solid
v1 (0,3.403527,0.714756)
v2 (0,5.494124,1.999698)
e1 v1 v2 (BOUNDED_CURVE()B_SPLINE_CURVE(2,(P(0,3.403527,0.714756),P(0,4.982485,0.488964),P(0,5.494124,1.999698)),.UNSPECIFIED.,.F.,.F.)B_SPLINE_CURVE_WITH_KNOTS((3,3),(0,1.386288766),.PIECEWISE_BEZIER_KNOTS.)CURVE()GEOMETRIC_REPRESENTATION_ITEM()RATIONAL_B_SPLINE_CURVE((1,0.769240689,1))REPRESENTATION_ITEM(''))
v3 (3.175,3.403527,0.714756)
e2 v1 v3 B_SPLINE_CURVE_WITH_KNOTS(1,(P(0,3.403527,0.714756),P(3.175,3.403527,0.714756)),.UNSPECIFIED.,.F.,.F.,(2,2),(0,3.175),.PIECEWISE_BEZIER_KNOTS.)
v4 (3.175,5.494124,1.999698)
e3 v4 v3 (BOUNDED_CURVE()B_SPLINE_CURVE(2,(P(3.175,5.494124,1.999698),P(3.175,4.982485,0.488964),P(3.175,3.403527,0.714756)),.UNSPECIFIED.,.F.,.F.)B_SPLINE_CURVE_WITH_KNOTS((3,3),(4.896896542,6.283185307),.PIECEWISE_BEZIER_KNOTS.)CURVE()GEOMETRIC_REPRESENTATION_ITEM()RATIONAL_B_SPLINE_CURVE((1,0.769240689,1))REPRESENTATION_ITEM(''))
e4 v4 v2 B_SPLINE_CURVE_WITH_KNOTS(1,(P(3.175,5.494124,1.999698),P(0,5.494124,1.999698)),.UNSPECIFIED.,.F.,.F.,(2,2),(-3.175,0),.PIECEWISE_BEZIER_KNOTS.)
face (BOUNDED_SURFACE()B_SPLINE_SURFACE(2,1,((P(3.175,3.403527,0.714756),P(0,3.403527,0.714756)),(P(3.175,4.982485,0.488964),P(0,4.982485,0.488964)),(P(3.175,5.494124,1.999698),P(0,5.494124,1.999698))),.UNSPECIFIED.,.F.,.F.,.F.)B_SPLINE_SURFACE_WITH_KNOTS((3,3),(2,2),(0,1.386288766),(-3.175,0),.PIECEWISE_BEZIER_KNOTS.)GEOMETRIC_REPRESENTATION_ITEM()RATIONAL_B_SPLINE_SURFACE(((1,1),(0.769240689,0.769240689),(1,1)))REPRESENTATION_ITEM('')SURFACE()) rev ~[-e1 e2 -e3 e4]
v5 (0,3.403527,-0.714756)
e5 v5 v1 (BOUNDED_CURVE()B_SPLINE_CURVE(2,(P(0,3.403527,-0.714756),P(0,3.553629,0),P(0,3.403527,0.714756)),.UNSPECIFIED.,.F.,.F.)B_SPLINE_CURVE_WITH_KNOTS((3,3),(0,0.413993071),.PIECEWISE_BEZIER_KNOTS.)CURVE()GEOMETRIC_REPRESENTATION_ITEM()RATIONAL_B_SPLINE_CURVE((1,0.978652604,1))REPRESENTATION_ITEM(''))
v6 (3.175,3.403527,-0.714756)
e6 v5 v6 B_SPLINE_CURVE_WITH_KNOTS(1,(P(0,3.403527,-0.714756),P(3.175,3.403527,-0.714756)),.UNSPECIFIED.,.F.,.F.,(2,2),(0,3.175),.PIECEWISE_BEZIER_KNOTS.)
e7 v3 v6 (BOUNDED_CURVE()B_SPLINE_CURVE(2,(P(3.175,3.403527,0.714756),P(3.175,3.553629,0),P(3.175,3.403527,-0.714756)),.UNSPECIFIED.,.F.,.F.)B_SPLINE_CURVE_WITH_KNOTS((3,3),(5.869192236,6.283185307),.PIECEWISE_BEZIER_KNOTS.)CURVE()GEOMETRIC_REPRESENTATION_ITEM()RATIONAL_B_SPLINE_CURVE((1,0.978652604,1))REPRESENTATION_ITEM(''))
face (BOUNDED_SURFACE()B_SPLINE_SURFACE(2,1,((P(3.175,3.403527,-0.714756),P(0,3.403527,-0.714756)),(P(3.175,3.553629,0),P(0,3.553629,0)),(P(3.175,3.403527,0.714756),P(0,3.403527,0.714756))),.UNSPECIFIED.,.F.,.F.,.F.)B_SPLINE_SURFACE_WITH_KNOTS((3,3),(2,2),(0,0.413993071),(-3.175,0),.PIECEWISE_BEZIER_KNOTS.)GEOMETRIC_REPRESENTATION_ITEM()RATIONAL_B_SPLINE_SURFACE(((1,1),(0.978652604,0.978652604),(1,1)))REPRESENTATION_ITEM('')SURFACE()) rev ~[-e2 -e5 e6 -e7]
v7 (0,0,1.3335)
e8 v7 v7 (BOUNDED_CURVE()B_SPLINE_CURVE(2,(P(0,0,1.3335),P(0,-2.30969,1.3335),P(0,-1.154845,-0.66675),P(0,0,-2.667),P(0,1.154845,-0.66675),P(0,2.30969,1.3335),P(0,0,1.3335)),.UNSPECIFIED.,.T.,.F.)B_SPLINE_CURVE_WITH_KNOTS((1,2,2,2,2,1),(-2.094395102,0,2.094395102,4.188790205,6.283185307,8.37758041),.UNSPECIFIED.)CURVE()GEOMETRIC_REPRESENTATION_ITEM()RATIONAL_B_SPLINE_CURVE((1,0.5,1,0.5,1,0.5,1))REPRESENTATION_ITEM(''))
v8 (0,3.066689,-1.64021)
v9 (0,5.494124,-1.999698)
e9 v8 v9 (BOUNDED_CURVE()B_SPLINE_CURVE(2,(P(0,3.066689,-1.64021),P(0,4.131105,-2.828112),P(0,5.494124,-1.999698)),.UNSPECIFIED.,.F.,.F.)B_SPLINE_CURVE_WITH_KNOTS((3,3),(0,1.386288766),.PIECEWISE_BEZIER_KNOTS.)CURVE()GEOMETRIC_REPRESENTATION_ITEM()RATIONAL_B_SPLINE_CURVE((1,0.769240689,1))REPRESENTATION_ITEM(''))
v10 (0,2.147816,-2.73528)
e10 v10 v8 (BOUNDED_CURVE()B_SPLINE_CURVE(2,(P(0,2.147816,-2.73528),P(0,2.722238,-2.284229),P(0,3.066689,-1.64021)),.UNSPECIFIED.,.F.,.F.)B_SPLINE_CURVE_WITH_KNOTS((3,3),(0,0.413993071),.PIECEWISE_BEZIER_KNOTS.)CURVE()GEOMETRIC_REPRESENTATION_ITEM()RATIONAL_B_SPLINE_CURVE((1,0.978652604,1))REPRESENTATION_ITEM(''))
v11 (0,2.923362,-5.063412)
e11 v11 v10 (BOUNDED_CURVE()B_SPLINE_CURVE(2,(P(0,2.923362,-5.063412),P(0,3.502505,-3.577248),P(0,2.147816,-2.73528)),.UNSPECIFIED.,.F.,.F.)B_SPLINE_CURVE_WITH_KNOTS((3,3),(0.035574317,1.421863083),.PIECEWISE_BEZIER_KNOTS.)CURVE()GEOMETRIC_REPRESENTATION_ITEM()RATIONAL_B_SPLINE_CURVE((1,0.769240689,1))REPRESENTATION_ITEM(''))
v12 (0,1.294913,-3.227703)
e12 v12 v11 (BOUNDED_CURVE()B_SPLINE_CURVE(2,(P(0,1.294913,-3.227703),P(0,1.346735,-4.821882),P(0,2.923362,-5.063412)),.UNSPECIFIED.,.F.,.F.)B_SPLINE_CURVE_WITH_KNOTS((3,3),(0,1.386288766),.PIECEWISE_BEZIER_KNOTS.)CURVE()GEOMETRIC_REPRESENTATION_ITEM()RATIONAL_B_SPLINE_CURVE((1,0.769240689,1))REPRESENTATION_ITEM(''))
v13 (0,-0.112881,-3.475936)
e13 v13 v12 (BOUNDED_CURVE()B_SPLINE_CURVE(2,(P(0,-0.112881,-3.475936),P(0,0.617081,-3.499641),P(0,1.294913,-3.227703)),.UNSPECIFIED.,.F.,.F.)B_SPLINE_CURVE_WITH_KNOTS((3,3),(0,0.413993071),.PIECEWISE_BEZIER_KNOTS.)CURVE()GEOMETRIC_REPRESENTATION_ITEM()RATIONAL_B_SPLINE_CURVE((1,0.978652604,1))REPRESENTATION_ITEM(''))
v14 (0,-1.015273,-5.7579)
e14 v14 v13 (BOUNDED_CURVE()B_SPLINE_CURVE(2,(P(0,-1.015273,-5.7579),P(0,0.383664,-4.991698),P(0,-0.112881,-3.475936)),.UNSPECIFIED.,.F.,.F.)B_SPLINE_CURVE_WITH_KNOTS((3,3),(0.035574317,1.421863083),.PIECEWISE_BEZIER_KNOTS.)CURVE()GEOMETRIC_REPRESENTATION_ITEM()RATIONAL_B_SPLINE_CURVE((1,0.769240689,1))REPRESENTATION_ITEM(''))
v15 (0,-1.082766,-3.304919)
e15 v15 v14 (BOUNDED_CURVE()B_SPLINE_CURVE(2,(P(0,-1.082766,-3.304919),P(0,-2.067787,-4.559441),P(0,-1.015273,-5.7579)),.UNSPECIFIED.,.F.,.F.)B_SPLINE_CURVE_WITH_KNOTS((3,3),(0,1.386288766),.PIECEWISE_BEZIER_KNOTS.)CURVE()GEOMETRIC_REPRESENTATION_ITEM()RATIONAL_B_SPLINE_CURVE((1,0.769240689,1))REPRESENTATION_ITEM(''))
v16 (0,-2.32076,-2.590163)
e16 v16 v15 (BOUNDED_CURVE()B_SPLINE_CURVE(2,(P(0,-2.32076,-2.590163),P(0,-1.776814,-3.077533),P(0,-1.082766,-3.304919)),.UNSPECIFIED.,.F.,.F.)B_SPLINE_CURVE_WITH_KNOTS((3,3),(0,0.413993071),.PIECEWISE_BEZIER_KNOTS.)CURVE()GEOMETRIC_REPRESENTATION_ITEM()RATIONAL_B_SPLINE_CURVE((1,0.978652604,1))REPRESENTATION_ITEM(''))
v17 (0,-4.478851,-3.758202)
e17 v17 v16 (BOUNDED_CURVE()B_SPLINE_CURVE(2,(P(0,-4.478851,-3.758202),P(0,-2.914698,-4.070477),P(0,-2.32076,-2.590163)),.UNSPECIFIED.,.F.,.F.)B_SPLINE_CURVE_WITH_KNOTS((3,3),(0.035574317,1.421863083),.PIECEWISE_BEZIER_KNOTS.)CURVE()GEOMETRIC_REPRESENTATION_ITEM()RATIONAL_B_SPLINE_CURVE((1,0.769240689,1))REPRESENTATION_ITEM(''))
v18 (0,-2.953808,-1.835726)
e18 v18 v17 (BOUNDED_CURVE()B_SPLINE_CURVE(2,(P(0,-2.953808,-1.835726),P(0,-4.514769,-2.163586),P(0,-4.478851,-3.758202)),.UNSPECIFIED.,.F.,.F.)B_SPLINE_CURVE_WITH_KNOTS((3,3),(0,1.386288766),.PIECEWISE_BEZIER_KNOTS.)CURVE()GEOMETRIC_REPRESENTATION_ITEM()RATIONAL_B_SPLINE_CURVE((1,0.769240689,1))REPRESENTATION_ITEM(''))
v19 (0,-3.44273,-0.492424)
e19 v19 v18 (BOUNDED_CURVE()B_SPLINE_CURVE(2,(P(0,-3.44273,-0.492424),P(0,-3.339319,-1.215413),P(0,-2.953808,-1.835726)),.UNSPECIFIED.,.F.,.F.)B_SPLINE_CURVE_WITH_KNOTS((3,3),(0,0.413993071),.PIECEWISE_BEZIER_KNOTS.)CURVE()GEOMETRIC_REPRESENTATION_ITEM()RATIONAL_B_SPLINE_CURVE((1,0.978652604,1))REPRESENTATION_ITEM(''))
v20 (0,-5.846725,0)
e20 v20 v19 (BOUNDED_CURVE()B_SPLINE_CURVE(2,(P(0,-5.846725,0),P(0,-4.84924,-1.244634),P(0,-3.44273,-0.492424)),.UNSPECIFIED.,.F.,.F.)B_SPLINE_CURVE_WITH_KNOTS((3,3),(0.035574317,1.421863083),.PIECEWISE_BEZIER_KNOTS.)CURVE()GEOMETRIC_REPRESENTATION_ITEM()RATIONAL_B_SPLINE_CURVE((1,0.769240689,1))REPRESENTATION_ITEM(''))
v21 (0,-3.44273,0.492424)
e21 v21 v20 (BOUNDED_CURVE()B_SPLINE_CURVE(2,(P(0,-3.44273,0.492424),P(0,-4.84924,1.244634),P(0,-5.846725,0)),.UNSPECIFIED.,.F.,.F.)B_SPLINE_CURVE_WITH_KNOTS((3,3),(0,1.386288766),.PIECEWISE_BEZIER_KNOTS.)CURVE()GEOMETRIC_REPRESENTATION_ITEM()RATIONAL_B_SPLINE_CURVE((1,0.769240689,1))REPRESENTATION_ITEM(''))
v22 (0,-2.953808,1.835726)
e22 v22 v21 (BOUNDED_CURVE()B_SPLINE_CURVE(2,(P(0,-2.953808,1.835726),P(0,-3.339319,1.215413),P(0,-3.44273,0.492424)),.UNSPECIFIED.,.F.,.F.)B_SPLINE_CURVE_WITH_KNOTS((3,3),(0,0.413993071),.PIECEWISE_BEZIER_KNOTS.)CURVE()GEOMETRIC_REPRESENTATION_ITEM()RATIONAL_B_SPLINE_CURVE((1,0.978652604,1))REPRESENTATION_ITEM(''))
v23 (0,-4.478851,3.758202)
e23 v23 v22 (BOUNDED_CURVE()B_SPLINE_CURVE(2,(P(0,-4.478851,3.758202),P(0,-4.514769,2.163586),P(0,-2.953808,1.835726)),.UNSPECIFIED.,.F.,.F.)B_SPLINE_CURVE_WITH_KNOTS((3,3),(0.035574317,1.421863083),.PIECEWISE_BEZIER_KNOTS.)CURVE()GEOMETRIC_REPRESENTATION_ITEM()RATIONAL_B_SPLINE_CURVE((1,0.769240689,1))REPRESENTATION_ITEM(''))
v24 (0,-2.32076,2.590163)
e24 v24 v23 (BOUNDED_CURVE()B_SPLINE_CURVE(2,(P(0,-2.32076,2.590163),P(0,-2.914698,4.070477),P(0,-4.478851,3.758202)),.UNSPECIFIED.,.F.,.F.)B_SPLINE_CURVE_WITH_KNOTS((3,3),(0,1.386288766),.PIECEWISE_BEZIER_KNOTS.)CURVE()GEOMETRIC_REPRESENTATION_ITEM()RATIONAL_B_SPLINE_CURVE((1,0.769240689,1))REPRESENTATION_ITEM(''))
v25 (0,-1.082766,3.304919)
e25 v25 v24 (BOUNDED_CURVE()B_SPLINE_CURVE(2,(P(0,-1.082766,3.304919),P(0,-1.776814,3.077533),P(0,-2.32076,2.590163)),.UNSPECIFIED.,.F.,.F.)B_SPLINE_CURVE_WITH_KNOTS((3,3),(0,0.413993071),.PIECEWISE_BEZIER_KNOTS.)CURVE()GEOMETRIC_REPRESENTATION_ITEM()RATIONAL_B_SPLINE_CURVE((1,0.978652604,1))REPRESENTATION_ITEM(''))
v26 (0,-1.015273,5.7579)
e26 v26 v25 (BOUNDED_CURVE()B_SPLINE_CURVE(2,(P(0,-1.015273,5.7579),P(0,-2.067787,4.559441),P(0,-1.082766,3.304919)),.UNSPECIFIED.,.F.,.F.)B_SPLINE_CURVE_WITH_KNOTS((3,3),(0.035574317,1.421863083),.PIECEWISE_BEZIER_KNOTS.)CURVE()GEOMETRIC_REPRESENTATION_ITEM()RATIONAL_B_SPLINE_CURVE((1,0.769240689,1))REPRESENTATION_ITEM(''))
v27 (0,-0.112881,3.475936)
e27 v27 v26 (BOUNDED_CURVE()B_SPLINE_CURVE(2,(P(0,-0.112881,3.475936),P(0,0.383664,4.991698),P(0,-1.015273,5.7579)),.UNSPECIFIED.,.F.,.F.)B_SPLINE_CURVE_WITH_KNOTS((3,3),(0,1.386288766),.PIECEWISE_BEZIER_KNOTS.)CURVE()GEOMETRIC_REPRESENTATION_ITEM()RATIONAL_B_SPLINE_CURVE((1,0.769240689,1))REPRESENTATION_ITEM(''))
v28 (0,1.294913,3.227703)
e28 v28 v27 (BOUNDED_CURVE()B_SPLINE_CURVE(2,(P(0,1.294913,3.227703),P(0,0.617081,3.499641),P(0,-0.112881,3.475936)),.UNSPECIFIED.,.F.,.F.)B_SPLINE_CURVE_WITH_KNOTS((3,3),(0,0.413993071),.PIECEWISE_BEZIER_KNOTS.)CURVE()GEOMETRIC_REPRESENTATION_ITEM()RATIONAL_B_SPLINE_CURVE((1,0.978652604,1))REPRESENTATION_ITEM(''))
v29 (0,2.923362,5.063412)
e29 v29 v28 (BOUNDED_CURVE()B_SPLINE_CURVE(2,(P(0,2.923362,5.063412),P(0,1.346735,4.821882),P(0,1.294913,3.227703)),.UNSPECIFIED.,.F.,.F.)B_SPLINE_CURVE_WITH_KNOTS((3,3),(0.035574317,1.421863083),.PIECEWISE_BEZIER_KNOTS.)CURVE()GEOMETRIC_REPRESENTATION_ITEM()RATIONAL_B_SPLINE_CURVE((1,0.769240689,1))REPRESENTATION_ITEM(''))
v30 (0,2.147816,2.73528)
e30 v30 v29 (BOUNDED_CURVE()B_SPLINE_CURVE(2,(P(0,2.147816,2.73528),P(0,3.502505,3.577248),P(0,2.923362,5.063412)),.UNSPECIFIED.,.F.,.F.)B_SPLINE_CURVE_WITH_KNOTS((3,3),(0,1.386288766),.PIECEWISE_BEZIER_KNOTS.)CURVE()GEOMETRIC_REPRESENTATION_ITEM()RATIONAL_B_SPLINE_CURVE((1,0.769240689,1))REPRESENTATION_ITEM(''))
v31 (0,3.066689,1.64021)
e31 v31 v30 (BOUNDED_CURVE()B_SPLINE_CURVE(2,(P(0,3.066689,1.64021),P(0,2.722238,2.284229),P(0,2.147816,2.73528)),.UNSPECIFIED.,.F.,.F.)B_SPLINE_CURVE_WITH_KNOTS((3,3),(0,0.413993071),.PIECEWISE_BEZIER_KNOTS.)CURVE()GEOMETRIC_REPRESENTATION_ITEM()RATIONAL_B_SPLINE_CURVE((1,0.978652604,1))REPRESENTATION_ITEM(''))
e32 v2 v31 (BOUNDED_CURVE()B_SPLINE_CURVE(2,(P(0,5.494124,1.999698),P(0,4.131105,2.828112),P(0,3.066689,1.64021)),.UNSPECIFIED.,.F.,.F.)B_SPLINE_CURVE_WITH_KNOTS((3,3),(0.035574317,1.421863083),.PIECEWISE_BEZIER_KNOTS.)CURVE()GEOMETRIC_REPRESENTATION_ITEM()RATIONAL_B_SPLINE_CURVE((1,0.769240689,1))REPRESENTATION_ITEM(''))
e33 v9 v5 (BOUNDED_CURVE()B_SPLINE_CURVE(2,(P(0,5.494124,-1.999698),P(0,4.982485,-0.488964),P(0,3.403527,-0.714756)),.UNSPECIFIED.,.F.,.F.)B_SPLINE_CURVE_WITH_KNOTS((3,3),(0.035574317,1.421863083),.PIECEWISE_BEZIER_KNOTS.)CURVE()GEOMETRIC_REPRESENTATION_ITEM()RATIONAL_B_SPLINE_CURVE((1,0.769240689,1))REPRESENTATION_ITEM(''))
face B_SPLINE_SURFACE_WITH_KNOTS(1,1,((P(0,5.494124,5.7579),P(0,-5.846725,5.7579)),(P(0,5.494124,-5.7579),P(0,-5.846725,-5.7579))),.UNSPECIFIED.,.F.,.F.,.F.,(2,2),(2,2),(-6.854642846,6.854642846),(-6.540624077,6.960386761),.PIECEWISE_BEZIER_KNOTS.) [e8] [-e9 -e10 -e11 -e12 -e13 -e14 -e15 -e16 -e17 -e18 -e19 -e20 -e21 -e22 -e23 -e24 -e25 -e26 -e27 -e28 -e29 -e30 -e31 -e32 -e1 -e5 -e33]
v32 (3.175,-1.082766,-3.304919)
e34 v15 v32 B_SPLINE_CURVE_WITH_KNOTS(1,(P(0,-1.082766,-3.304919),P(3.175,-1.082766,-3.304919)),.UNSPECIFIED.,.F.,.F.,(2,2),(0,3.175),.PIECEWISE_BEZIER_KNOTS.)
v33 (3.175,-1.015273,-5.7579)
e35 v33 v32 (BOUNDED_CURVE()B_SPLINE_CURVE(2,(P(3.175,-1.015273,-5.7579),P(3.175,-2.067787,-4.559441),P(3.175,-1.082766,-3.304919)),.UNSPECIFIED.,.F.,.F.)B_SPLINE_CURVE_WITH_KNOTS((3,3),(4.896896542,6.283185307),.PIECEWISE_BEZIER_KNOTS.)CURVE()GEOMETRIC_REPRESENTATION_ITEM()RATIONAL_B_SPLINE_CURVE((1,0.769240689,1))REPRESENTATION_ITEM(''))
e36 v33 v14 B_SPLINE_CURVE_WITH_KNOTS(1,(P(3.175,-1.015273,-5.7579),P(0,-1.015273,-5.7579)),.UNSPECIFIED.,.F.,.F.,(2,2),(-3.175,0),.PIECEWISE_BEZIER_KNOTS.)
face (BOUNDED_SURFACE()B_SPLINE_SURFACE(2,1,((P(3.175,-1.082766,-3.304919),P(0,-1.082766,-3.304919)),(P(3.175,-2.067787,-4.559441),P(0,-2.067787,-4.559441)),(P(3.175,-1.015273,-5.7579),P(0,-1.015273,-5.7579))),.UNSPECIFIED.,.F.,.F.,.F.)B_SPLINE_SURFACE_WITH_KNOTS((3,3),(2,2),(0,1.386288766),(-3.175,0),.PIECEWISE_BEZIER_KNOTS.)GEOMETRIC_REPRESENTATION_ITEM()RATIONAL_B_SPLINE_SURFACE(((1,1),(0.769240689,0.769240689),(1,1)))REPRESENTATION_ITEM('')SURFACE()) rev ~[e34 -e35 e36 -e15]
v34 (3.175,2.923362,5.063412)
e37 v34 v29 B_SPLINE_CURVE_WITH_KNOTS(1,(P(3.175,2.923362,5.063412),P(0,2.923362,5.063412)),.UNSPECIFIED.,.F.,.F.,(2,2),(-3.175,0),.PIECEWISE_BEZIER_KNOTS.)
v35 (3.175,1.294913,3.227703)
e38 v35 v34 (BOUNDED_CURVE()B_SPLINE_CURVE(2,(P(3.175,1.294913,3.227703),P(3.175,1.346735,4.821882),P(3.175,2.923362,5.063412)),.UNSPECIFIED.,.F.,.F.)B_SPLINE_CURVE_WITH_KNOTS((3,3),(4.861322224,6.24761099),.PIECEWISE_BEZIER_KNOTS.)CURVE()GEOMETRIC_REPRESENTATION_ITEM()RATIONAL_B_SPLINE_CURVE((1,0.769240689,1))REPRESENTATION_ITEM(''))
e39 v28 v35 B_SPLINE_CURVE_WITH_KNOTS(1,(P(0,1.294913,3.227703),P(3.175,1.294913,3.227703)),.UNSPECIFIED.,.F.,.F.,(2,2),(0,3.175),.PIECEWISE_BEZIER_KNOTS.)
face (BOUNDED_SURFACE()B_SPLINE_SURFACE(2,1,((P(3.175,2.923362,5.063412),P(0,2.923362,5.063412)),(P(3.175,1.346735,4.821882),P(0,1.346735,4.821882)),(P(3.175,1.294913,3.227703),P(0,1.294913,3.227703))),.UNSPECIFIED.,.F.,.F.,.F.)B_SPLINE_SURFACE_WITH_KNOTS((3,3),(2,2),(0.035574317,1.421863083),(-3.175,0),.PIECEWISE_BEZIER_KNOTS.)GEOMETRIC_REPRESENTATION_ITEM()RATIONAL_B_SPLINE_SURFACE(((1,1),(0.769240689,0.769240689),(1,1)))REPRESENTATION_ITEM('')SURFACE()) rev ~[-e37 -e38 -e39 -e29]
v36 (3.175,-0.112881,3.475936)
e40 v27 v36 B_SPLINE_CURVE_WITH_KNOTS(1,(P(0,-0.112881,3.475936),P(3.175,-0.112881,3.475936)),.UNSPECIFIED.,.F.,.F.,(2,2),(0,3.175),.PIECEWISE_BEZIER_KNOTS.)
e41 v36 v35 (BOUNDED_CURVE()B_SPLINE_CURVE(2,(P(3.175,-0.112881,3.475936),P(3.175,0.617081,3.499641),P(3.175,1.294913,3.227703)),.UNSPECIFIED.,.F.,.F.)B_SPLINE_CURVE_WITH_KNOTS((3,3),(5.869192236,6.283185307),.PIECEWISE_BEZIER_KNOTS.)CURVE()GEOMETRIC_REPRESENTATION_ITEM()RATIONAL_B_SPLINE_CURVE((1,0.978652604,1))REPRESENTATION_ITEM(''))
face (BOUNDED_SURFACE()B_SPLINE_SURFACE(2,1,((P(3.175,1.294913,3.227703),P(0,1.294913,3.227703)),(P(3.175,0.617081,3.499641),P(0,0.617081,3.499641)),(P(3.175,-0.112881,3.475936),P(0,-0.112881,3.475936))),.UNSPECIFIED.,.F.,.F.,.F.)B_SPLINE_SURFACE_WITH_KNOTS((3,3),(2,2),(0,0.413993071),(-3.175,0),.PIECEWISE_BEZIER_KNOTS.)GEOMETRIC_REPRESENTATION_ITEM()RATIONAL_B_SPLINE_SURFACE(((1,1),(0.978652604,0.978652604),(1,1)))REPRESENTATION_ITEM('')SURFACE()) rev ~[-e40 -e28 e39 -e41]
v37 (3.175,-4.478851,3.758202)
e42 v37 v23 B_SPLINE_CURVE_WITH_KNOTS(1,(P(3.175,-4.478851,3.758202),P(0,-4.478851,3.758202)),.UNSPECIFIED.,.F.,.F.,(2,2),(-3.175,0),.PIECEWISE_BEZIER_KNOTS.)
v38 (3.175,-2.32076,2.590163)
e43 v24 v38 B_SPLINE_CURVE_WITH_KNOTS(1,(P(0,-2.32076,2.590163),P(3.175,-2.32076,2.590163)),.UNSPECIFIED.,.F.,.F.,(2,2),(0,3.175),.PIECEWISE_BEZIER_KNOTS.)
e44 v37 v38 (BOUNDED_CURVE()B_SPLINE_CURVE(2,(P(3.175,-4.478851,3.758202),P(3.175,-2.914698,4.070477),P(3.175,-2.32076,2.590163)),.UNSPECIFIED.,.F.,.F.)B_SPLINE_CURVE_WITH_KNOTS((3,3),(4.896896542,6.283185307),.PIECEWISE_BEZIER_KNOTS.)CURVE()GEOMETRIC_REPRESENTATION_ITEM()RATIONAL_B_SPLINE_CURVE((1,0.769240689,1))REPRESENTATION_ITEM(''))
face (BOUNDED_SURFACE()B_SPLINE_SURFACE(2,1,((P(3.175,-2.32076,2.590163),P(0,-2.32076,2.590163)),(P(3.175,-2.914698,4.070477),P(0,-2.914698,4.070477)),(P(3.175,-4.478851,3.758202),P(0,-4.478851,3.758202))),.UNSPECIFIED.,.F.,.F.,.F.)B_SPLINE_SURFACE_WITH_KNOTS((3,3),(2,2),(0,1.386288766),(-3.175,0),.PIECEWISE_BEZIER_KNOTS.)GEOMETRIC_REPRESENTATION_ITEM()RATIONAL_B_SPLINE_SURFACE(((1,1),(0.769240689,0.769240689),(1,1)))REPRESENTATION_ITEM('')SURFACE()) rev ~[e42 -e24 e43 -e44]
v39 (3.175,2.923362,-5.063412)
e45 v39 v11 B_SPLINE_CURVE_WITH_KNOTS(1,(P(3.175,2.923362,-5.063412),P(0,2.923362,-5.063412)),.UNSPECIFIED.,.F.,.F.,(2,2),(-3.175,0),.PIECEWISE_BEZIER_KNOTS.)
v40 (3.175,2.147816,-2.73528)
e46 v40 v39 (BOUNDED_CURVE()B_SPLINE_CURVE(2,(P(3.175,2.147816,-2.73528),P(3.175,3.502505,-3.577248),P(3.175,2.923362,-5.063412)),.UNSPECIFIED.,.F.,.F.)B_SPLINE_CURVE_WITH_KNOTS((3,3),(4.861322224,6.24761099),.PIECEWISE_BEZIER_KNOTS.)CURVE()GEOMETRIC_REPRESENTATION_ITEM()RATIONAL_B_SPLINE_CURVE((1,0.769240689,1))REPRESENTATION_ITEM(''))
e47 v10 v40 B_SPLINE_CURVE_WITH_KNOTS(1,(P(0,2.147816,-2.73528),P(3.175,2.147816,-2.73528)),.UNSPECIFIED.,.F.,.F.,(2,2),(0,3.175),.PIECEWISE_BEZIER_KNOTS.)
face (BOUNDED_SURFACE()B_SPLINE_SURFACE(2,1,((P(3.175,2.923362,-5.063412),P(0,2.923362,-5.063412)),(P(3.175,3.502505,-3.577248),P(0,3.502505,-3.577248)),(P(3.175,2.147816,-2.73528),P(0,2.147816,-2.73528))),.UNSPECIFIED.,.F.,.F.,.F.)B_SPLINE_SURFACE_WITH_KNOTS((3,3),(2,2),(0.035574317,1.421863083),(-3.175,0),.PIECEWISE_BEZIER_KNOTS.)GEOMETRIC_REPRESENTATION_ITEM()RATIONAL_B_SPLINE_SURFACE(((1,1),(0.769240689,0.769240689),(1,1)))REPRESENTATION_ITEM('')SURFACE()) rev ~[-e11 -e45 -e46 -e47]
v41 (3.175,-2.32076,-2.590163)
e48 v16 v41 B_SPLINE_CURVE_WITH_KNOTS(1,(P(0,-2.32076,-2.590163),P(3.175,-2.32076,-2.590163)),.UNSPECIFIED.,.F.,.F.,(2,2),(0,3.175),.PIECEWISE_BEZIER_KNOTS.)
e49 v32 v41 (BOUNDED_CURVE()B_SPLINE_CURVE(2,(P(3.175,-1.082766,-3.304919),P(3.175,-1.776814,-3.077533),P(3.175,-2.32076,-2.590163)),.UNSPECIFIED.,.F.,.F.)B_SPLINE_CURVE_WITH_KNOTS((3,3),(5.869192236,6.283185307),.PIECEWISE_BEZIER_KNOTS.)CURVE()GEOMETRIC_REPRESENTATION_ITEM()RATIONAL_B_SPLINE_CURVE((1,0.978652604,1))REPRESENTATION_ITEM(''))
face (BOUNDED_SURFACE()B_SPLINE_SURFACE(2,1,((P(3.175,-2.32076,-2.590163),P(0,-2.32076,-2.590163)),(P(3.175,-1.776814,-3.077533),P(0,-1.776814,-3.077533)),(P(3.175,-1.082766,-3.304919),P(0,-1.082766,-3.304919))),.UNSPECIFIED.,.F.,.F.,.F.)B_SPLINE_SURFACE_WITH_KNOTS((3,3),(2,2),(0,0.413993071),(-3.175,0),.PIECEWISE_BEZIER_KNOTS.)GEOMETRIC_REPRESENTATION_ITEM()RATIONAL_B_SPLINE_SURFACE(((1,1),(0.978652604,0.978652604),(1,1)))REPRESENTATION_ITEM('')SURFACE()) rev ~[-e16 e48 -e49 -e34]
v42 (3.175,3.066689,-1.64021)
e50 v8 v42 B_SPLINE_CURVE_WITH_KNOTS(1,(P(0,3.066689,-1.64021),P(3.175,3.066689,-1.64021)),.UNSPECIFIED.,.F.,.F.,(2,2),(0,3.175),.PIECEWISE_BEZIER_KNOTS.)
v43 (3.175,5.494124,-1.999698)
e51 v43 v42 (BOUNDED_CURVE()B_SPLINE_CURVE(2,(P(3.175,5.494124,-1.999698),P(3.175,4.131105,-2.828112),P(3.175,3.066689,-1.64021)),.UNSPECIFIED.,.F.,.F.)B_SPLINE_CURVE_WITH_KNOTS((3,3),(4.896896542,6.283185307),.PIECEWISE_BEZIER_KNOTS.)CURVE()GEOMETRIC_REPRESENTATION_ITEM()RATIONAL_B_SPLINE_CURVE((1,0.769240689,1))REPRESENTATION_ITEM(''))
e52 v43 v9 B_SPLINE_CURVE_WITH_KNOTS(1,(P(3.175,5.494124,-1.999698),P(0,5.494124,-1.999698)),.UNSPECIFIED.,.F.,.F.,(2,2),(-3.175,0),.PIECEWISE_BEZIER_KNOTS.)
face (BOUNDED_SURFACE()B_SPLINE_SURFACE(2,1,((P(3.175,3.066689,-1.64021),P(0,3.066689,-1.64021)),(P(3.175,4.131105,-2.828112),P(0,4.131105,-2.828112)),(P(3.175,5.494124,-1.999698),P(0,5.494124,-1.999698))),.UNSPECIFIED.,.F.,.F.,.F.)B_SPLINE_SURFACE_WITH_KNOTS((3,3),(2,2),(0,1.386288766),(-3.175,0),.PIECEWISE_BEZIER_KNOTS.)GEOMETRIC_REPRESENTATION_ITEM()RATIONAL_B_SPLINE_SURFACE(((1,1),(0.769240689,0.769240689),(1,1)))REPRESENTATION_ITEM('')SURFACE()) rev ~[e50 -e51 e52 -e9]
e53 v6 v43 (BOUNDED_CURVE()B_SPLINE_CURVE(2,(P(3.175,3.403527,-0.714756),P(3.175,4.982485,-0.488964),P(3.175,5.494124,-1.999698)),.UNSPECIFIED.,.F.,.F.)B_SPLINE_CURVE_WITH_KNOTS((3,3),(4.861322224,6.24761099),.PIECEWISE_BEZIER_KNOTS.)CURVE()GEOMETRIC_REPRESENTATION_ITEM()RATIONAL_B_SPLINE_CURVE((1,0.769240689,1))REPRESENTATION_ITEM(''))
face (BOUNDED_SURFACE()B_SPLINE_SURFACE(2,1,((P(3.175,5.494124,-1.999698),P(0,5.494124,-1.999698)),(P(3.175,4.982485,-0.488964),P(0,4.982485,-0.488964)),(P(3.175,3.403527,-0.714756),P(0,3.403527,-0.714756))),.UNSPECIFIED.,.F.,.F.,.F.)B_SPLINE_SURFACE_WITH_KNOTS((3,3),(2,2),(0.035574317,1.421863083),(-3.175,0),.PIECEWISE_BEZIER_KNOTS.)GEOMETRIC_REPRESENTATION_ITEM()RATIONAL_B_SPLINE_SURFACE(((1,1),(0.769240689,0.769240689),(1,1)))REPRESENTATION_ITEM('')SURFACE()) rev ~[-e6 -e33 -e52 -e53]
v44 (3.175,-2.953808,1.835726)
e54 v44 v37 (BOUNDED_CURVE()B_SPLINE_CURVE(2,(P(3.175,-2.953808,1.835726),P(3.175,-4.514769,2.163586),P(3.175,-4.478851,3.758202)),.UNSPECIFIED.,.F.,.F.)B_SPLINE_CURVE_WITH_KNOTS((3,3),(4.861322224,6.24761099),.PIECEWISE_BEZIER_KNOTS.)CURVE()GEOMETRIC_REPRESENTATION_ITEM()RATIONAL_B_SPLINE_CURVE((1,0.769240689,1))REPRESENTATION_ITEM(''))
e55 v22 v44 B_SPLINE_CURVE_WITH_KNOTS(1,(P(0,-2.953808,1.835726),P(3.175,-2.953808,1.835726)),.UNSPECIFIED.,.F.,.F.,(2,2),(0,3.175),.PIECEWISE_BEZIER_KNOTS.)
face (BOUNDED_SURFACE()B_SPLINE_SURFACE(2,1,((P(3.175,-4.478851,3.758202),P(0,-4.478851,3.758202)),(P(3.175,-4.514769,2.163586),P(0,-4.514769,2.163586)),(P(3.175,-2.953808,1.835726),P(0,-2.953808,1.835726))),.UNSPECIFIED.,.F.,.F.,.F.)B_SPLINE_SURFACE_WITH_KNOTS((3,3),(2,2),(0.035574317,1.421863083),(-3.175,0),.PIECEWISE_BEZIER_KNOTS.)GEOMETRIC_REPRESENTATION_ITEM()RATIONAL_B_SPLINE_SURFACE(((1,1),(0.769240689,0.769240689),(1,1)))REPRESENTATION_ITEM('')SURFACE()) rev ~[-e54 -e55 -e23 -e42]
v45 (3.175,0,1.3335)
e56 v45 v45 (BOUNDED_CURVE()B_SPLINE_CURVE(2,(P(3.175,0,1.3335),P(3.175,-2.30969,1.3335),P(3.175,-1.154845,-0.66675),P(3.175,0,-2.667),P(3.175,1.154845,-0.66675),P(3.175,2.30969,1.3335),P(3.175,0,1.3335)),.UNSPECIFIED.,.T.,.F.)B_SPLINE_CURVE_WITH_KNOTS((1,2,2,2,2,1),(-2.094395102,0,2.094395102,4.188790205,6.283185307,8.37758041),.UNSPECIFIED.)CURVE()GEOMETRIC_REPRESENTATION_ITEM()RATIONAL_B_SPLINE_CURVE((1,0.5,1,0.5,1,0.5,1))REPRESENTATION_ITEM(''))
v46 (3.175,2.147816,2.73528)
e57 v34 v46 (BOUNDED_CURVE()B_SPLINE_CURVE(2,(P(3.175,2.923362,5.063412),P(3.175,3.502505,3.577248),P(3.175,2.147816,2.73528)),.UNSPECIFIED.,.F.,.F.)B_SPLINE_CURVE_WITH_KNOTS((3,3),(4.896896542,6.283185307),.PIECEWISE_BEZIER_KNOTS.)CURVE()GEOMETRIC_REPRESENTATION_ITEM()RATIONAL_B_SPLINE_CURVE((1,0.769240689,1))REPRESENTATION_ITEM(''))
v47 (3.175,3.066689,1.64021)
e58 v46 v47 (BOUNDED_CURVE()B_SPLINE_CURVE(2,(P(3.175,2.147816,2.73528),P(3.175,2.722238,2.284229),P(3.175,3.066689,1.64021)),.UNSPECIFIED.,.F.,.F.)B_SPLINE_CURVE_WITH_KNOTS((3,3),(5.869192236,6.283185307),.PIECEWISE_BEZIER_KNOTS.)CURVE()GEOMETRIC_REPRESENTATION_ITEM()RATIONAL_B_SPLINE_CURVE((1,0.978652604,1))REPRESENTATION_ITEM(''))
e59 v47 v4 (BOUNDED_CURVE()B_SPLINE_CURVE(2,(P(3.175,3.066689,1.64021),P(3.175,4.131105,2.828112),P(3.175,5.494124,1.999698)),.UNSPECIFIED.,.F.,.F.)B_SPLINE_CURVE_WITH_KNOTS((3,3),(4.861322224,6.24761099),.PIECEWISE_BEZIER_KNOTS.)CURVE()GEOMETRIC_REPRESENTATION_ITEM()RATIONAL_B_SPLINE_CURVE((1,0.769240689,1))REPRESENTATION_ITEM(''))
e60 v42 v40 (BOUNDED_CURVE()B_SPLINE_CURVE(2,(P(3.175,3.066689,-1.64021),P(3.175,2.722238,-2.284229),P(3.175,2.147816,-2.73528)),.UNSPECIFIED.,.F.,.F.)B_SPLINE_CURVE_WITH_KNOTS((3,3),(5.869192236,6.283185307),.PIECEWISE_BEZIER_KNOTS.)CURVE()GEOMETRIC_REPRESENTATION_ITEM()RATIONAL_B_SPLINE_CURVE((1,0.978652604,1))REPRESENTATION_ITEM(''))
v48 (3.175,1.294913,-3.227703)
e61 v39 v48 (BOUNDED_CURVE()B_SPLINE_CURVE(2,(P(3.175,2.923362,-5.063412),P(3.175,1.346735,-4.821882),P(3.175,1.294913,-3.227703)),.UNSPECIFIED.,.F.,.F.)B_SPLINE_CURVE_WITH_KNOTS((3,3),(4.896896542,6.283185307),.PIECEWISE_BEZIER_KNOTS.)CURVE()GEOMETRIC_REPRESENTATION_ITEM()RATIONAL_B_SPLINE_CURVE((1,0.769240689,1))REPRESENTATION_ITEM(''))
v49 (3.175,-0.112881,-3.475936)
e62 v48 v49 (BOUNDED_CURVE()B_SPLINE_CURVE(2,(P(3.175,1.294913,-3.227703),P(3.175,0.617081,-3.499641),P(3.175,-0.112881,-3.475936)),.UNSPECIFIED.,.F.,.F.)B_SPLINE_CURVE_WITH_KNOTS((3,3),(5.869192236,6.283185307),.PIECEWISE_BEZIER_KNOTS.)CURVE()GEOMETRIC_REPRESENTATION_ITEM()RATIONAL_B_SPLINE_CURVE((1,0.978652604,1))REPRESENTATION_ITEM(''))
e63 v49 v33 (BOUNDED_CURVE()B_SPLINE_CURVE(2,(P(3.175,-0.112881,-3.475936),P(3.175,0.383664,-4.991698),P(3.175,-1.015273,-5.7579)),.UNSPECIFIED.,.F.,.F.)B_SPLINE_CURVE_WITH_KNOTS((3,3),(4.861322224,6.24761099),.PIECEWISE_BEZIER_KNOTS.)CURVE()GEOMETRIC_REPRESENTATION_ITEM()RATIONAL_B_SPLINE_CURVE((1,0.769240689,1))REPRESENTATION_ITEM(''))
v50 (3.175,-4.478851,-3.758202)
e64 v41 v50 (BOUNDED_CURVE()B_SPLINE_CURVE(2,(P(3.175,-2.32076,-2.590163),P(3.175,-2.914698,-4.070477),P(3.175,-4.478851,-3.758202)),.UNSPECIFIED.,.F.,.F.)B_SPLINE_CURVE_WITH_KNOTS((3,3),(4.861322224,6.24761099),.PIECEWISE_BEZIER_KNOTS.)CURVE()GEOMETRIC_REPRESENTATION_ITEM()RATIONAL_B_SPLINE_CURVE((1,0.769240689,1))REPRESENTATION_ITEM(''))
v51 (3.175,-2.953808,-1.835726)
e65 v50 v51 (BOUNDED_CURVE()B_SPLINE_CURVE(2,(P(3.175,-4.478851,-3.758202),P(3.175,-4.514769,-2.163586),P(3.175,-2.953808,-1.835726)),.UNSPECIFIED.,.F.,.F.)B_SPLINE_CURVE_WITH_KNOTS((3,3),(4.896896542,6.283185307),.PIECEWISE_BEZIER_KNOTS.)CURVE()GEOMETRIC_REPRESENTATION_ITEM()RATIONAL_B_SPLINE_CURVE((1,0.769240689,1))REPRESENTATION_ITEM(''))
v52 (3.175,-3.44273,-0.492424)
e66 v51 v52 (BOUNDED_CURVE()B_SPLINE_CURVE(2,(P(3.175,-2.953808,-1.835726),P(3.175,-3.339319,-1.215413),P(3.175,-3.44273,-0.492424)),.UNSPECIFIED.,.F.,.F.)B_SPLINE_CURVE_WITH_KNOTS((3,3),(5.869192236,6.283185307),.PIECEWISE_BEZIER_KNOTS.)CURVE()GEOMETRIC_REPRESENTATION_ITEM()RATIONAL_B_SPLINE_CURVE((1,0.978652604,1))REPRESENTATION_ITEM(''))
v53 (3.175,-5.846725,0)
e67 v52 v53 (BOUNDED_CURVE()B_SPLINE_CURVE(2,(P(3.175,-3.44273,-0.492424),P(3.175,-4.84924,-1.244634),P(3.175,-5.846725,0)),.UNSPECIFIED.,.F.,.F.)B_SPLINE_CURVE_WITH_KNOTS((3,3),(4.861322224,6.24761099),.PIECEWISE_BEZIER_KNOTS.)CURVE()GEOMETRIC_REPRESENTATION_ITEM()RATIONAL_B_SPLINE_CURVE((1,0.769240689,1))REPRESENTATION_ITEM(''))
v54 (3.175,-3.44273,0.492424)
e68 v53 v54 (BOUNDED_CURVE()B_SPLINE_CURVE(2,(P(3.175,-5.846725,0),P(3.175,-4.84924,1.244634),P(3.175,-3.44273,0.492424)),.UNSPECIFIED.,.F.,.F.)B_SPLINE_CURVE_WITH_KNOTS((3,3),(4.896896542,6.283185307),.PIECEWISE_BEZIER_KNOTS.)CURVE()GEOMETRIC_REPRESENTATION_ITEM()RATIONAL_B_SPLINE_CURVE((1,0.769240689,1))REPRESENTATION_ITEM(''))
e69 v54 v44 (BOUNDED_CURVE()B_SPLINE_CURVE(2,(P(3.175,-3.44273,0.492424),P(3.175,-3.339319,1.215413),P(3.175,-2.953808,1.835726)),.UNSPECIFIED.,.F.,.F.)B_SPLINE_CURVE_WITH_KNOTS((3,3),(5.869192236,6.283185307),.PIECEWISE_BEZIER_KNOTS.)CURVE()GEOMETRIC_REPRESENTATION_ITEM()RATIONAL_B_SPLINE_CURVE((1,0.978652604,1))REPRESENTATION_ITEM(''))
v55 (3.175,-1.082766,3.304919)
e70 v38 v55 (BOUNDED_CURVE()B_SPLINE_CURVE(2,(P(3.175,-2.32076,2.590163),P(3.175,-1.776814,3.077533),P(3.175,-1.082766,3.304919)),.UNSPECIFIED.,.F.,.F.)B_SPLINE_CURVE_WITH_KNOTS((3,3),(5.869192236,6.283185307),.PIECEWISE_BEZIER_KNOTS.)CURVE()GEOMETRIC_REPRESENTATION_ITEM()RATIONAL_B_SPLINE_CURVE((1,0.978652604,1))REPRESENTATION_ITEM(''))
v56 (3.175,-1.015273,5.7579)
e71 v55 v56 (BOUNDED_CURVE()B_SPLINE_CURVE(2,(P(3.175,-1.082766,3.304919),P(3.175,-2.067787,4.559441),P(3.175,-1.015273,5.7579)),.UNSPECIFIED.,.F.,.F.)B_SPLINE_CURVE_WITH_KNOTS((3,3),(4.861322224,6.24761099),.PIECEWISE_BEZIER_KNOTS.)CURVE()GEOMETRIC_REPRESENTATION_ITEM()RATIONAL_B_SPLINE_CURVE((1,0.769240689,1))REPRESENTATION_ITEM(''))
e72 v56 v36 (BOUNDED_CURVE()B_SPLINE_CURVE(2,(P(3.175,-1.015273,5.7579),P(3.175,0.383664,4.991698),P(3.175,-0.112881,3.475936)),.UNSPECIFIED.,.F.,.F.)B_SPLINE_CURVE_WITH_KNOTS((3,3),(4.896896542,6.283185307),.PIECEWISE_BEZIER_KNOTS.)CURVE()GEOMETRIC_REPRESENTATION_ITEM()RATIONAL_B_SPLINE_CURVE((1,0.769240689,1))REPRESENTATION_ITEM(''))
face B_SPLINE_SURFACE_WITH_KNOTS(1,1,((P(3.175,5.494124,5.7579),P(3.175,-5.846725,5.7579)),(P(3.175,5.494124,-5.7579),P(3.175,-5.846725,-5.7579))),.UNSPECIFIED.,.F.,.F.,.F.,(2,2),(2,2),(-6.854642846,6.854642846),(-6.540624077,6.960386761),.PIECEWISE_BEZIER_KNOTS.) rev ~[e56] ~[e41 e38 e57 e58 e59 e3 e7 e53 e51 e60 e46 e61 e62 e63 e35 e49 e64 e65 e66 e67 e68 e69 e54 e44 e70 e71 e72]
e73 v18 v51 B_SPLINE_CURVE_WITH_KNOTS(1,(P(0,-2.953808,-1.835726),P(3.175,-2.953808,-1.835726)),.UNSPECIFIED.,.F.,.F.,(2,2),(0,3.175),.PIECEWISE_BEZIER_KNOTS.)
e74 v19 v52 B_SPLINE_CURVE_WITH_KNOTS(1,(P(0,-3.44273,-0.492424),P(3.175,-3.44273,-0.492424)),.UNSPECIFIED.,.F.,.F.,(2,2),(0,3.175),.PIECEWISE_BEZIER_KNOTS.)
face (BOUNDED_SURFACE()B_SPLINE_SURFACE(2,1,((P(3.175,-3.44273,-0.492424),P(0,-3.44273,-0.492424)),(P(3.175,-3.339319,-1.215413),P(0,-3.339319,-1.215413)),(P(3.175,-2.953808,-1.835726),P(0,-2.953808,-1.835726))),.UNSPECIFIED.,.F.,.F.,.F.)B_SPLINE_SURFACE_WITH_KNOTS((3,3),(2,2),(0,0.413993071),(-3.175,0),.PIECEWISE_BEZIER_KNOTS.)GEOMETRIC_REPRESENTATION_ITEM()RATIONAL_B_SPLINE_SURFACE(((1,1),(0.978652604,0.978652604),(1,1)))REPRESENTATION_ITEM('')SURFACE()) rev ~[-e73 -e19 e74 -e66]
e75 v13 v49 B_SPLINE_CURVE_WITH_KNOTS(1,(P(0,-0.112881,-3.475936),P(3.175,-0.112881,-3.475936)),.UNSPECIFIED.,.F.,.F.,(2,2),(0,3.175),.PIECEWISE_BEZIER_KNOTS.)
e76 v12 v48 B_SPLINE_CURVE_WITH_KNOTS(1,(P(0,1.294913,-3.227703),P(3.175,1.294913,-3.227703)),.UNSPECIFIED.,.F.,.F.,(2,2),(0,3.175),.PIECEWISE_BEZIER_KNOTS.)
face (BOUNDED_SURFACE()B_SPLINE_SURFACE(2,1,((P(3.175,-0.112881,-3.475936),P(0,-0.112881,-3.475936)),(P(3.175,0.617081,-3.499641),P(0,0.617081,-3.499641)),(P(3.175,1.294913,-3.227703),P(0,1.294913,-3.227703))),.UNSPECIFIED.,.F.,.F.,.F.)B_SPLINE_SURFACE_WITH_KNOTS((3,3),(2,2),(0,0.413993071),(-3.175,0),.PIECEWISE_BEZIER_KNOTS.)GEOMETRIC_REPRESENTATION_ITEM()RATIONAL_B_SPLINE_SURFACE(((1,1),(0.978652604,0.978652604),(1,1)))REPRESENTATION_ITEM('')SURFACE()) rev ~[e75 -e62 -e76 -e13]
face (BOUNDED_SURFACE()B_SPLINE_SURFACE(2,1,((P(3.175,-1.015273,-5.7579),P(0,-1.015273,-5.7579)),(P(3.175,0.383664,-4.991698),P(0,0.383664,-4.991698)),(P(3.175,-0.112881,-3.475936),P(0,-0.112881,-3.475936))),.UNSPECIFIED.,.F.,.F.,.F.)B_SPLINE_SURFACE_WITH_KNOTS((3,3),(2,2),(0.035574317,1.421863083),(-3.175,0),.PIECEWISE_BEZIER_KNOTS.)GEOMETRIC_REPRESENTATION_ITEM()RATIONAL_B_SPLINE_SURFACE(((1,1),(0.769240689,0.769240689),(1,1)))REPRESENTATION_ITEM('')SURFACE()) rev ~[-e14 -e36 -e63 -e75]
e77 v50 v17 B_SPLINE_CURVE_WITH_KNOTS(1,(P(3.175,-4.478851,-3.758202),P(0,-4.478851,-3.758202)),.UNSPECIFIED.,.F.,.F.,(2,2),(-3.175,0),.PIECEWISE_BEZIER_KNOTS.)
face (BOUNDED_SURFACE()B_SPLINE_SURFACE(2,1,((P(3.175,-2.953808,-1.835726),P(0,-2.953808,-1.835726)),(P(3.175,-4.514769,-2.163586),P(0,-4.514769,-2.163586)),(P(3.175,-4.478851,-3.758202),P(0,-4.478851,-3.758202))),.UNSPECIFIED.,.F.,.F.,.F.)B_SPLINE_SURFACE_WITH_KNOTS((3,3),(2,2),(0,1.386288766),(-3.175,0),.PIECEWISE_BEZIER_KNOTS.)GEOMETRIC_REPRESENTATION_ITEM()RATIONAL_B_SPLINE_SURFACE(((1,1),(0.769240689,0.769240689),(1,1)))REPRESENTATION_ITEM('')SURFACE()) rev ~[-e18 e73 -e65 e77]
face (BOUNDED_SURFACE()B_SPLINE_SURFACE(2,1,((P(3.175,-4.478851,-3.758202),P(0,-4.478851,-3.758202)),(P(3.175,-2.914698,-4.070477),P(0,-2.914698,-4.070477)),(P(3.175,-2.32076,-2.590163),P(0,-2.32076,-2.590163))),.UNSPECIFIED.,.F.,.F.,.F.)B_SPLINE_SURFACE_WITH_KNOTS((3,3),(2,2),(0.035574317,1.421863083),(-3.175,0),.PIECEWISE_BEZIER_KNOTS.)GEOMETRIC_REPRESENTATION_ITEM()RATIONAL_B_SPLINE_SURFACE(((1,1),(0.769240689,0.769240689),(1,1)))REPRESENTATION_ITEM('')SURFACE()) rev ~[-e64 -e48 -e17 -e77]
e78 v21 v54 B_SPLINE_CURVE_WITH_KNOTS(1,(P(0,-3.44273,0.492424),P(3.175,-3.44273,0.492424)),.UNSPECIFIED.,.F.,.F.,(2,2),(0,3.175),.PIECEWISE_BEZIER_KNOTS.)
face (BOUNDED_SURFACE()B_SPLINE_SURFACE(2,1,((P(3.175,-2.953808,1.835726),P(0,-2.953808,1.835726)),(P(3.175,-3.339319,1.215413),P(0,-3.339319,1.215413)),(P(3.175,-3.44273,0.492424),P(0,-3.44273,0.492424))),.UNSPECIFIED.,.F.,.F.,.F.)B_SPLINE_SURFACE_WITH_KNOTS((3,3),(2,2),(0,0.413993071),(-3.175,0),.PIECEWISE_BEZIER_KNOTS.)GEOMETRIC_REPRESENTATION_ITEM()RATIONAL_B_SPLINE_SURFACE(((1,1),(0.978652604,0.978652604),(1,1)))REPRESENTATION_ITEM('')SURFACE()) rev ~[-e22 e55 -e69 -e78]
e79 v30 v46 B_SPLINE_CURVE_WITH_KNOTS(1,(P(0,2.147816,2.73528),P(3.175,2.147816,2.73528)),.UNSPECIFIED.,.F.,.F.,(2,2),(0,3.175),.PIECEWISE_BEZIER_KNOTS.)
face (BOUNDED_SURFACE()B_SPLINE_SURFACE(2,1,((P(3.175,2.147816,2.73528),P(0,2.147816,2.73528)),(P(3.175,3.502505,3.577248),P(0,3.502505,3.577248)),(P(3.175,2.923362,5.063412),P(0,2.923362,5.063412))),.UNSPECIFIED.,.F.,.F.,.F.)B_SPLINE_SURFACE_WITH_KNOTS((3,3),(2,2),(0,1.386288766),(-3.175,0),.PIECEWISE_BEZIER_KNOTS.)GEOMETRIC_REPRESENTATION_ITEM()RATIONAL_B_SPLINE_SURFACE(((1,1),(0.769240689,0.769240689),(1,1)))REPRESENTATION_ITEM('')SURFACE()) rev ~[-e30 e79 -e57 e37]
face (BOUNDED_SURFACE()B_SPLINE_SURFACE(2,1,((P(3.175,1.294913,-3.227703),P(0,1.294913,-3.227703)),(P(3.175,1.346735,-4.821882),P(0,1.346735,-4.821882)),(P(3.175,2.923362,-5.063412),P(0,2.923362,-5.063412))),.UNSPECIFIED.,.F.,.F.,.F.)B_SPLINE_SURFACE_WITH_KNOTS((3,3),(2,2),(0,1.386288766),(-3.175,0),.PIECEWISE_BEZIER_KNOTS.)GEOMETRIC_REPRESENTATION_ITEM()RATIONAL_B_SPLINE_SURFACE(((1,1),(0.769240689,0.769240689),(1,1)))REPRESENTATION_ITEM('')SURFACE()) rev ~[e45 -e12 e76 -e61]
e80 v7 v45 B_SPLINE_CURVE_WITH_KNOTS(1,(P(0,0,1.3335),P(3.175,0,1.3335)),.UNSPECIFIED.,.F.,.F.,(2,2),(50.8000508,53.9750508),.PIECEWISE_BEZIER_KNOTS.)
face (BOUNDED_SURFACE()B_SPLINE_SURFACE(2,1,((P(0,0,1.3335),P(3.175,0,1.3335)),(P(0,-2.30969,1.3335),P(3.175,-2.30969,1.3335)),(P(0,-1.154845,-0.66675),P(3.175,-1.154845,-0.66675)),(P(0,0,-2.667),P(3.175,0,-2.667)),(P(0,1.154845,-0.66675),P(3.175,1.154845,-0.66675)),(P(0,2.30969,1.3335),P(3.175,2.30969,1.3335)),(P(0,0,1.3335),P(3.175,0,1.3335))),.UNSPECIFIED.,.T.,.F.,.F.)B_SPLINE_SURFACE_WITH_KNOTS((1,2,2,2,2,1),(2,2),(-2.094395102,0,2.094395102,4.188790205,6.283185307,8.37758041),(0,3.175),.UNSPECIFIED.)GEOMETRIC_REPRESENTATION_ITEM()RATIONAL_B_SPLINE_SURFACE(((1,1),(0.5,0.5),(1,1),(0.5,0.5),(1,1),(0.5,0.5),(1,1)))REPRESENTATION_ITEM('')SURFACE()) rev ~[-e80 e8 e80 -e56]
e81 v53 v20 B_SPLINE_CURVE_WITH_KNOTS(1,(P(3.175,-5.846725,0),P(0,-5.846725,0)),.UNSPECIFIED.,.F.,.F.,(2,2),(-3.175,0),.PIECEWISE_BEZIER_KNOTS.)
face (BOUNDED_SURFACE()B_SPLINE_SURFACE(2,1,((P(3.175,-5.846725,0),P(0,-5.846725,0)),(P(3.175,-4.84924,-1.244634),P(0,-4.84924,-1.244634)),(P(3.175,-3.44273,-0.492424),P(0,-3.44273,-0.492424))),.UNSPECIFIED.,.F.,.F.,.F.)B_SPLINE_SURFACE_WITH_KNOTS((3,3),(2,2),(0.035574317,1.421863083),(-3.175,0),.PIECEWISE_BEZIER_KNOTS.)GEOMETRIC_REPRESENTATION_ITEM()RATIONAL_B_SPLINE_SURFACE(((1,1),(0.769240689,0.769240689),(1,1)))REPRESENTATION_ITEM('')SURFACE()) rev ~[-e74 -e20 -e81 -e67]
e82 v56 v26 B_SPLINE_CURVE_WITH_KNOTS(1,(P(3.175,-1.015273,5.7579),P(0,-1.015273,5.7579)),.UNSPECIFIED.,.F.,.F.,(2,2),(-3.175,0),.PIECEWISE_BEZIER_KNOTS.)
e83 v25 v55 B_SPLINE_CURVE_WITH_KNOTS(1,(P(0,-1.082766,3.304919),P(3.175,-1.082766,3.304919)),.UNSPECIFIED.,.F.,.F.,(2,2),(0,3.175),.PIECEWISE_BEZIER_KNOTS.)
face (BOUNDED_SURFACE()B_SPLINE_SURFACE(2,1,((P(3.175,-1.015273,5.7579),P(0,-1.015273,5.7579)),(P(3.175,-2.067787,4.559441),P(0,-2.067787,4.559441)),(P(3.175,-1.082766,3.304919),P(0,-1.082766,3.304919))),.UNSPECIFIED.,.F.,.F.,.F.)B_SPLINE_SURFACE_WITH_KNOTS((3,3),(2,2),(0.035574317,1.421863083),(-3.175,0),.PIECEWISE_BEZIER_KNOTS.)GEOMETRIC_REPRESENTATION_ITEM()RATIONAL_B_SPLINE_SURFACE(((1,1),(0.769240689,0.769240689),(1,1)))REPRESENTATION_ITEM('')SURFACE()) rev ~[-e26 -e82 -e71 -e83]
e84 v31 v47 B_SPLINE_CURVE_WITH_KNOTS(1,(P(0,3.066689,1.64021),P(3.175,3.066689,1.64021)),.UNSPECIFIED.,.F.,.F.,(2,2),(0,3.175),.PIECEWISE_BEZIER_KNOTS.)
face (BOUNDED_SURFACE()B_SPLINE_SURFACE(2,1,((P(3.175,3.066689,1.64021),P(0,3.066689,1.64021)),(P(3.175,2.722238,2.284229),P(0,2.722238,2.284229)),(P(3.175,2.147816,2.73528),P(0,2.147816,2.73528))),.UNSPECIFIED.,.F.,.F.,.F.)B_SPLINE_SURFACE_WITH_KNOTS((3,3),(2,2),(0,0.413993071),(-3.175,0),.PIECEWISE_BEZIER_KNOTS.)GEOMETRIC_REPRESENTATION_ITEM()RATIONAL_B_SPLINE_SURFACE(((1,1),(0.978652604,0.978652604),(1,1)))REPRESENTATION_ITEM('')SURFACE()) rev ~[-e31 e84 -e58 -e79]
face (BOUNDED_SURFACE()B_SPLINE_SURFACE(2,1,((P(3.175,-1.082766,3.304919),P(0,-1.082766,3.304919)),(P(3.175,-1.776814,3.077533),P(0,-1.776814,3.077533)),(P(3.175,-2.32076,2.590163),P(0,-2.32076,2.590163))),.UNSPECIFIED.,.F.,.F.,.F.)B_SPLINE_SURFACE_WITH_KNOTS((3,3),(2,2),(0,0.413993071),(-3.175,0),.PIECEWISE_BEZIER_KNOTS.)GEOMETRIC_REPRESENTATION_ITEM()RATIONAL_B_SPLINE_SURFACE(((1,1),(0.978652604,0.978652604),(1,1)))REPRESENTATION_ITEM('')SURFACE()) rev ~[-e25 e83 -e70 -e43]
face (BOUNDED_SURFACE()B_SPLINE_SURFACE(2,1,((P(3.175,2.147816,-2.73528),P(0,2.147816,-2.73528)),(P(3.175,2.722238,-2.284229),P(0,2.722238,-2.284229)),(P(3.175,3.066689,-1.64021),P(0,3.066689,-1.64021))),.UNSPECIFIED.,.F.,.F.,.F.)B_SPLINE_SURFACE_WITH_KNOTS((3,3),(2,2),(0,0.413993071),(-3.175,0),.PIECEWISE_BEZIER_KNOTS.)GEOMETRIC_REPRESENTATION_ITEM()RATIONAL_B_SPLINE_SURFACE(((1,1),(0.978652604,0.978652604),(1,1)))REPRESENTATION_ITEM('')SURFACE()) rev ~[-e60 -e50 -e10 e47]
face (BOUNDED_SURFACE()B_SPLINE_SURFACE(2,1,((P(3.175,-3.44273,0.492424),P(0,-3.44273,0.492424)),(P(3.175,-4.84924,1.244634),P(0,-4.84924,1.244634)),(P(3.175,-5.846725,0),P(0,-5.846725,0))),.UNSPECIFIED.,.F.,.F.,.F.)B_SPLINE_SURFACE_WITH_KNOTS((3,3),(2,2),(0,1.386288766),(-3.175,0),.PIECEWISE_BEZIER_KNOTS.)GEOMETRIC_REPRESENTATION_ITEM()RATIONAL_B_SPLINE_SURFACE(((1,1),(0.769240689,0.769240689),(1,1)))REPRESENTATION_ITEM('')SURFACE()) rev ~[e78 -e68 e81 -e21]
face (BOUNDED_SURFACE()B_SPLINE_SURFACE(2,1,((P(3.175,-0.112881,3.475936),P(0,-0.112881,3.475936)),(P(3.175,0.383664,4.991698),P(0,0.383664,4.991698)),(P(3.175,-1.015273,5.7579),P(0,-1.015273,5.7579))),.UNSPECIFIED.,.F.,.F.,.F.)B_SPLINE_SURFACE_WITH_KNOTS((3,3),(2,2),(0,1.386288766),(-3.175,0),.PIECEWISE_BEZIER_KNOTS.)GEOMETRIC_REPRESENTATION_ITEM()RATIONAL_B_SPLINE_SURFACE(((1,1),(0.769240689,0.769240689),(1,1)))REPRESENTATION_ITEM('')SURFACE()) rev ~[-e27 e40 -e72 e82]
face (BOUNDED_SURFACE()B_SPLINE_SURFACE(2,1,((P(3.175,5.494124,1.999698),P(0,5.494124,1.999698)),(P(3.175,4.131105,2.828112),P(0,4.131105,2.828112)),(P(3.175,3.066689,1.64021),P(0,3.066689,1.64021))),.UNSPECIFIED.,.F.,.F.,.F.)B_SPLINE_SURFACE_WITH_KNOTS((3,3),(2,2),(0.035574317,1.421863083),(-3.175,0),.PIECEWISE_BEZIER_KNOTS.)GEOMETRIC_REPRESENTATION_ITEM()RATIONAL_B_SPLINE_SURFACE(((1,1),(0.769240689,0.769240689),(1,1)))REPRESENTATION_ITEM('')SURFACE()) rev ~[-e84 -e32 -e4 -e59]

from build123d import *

# Parameters (mm, degrees)
BASPROSKE_W     = 3.175
BASPROSKE_H     = 6.985
TOOTHCUT_DEPTH  = 11.375985495
TEETHCUTS_COUNT = 9
BORSKE_R        = 1.5875
BORE_DEPTH      = 50.8000508
SCALE1_SCALE_X  = 1
SCALE1_SCALE_Y  = 0.84
SCALE1_SCALE_Z  = 0.84


with BuildPart() as part:
    # BasProSke → Base-Revolve (revolve)
    with BuildSketch(Plane(origin=(0, 0, 0), x_dir=(1, 0, 0), z_dir=(0, 1, 0)), mode=Mode.PRIVATE) as base_revolve_sk:
        with Locations((1.5875, 3.4925)):
            Rectangle(BASPROSKE_W, BASPROSKE_H)
    revolve(base_revolve_sk.sketch.rotate(Axis((-10, 0, 0), (1, 0, 0)), 180), axis=Axis((-10, 0, 0), (1, 0, 0)))

    # TooCutSke → ToothCut (cut, through all)
    with BuildSketch(Plane(origin=(0, 0, 0), x_dir=(0, 0, -1), z_dir=(1, 0, 0))):
        with BuildLine():
            ThreePointArc((0.85090004, 4.051817513), (0, 4.1402), (-0.85090004, 4.051817513))
            ThreePointArc((-0.85090004, 4.051817513), (-1.187930048, 5.606894235), (-2.458065659, 6.565334826))
            ThreePointArc((-2.458065659, 6.565334826), (0, 7.0104), (2.458065659, 6.565334826))
            ThreePointArc((2.458065659, 6.565334826), (1.187930048, 5.606894235), (0.85090004, 4.051817513))
        make_face()
    toothcut = extrude(amount=TOOTHCUT_DEPTH, mode=Mode.SUBTRACT)

    # TeethCuts: ToothCut ×9 about axis
    teethcuts_axis = Axis((-10, 0, 0), (1, 0, 0))
    for i in range(1, TEETHCUTS_COUNT):
        add(toothcut.rotate(teethcuts_axis, i * 360 / TEETHCUTS_COUNT), mode=Mode.SUBTRACT)

    # BorSke → Bore (cut, symmetric)
    with BuildSketch(Plane(origin=(0, 0, 0), x_dir=(0, 0, -1), z_dir=(1, 0, 0))):
        with Locations(Location((0, 0, 0), (0, 0, 180))):
            Circle(BORSKE_R)
    extrude(amount=BORE_DEPTH, both=True, mode=Mode.SUBTRACT)


with BuildPart() as part_1:
    # Scale1: scaled about (1.5875, 0, 0)
    add(part.part.scale((SCALE1_SCALE_X, SCALE1_SCALE_Y, SCALE1_SCALE_Z), about=(1.5875, 0, 0)))


solid = part_1.part
